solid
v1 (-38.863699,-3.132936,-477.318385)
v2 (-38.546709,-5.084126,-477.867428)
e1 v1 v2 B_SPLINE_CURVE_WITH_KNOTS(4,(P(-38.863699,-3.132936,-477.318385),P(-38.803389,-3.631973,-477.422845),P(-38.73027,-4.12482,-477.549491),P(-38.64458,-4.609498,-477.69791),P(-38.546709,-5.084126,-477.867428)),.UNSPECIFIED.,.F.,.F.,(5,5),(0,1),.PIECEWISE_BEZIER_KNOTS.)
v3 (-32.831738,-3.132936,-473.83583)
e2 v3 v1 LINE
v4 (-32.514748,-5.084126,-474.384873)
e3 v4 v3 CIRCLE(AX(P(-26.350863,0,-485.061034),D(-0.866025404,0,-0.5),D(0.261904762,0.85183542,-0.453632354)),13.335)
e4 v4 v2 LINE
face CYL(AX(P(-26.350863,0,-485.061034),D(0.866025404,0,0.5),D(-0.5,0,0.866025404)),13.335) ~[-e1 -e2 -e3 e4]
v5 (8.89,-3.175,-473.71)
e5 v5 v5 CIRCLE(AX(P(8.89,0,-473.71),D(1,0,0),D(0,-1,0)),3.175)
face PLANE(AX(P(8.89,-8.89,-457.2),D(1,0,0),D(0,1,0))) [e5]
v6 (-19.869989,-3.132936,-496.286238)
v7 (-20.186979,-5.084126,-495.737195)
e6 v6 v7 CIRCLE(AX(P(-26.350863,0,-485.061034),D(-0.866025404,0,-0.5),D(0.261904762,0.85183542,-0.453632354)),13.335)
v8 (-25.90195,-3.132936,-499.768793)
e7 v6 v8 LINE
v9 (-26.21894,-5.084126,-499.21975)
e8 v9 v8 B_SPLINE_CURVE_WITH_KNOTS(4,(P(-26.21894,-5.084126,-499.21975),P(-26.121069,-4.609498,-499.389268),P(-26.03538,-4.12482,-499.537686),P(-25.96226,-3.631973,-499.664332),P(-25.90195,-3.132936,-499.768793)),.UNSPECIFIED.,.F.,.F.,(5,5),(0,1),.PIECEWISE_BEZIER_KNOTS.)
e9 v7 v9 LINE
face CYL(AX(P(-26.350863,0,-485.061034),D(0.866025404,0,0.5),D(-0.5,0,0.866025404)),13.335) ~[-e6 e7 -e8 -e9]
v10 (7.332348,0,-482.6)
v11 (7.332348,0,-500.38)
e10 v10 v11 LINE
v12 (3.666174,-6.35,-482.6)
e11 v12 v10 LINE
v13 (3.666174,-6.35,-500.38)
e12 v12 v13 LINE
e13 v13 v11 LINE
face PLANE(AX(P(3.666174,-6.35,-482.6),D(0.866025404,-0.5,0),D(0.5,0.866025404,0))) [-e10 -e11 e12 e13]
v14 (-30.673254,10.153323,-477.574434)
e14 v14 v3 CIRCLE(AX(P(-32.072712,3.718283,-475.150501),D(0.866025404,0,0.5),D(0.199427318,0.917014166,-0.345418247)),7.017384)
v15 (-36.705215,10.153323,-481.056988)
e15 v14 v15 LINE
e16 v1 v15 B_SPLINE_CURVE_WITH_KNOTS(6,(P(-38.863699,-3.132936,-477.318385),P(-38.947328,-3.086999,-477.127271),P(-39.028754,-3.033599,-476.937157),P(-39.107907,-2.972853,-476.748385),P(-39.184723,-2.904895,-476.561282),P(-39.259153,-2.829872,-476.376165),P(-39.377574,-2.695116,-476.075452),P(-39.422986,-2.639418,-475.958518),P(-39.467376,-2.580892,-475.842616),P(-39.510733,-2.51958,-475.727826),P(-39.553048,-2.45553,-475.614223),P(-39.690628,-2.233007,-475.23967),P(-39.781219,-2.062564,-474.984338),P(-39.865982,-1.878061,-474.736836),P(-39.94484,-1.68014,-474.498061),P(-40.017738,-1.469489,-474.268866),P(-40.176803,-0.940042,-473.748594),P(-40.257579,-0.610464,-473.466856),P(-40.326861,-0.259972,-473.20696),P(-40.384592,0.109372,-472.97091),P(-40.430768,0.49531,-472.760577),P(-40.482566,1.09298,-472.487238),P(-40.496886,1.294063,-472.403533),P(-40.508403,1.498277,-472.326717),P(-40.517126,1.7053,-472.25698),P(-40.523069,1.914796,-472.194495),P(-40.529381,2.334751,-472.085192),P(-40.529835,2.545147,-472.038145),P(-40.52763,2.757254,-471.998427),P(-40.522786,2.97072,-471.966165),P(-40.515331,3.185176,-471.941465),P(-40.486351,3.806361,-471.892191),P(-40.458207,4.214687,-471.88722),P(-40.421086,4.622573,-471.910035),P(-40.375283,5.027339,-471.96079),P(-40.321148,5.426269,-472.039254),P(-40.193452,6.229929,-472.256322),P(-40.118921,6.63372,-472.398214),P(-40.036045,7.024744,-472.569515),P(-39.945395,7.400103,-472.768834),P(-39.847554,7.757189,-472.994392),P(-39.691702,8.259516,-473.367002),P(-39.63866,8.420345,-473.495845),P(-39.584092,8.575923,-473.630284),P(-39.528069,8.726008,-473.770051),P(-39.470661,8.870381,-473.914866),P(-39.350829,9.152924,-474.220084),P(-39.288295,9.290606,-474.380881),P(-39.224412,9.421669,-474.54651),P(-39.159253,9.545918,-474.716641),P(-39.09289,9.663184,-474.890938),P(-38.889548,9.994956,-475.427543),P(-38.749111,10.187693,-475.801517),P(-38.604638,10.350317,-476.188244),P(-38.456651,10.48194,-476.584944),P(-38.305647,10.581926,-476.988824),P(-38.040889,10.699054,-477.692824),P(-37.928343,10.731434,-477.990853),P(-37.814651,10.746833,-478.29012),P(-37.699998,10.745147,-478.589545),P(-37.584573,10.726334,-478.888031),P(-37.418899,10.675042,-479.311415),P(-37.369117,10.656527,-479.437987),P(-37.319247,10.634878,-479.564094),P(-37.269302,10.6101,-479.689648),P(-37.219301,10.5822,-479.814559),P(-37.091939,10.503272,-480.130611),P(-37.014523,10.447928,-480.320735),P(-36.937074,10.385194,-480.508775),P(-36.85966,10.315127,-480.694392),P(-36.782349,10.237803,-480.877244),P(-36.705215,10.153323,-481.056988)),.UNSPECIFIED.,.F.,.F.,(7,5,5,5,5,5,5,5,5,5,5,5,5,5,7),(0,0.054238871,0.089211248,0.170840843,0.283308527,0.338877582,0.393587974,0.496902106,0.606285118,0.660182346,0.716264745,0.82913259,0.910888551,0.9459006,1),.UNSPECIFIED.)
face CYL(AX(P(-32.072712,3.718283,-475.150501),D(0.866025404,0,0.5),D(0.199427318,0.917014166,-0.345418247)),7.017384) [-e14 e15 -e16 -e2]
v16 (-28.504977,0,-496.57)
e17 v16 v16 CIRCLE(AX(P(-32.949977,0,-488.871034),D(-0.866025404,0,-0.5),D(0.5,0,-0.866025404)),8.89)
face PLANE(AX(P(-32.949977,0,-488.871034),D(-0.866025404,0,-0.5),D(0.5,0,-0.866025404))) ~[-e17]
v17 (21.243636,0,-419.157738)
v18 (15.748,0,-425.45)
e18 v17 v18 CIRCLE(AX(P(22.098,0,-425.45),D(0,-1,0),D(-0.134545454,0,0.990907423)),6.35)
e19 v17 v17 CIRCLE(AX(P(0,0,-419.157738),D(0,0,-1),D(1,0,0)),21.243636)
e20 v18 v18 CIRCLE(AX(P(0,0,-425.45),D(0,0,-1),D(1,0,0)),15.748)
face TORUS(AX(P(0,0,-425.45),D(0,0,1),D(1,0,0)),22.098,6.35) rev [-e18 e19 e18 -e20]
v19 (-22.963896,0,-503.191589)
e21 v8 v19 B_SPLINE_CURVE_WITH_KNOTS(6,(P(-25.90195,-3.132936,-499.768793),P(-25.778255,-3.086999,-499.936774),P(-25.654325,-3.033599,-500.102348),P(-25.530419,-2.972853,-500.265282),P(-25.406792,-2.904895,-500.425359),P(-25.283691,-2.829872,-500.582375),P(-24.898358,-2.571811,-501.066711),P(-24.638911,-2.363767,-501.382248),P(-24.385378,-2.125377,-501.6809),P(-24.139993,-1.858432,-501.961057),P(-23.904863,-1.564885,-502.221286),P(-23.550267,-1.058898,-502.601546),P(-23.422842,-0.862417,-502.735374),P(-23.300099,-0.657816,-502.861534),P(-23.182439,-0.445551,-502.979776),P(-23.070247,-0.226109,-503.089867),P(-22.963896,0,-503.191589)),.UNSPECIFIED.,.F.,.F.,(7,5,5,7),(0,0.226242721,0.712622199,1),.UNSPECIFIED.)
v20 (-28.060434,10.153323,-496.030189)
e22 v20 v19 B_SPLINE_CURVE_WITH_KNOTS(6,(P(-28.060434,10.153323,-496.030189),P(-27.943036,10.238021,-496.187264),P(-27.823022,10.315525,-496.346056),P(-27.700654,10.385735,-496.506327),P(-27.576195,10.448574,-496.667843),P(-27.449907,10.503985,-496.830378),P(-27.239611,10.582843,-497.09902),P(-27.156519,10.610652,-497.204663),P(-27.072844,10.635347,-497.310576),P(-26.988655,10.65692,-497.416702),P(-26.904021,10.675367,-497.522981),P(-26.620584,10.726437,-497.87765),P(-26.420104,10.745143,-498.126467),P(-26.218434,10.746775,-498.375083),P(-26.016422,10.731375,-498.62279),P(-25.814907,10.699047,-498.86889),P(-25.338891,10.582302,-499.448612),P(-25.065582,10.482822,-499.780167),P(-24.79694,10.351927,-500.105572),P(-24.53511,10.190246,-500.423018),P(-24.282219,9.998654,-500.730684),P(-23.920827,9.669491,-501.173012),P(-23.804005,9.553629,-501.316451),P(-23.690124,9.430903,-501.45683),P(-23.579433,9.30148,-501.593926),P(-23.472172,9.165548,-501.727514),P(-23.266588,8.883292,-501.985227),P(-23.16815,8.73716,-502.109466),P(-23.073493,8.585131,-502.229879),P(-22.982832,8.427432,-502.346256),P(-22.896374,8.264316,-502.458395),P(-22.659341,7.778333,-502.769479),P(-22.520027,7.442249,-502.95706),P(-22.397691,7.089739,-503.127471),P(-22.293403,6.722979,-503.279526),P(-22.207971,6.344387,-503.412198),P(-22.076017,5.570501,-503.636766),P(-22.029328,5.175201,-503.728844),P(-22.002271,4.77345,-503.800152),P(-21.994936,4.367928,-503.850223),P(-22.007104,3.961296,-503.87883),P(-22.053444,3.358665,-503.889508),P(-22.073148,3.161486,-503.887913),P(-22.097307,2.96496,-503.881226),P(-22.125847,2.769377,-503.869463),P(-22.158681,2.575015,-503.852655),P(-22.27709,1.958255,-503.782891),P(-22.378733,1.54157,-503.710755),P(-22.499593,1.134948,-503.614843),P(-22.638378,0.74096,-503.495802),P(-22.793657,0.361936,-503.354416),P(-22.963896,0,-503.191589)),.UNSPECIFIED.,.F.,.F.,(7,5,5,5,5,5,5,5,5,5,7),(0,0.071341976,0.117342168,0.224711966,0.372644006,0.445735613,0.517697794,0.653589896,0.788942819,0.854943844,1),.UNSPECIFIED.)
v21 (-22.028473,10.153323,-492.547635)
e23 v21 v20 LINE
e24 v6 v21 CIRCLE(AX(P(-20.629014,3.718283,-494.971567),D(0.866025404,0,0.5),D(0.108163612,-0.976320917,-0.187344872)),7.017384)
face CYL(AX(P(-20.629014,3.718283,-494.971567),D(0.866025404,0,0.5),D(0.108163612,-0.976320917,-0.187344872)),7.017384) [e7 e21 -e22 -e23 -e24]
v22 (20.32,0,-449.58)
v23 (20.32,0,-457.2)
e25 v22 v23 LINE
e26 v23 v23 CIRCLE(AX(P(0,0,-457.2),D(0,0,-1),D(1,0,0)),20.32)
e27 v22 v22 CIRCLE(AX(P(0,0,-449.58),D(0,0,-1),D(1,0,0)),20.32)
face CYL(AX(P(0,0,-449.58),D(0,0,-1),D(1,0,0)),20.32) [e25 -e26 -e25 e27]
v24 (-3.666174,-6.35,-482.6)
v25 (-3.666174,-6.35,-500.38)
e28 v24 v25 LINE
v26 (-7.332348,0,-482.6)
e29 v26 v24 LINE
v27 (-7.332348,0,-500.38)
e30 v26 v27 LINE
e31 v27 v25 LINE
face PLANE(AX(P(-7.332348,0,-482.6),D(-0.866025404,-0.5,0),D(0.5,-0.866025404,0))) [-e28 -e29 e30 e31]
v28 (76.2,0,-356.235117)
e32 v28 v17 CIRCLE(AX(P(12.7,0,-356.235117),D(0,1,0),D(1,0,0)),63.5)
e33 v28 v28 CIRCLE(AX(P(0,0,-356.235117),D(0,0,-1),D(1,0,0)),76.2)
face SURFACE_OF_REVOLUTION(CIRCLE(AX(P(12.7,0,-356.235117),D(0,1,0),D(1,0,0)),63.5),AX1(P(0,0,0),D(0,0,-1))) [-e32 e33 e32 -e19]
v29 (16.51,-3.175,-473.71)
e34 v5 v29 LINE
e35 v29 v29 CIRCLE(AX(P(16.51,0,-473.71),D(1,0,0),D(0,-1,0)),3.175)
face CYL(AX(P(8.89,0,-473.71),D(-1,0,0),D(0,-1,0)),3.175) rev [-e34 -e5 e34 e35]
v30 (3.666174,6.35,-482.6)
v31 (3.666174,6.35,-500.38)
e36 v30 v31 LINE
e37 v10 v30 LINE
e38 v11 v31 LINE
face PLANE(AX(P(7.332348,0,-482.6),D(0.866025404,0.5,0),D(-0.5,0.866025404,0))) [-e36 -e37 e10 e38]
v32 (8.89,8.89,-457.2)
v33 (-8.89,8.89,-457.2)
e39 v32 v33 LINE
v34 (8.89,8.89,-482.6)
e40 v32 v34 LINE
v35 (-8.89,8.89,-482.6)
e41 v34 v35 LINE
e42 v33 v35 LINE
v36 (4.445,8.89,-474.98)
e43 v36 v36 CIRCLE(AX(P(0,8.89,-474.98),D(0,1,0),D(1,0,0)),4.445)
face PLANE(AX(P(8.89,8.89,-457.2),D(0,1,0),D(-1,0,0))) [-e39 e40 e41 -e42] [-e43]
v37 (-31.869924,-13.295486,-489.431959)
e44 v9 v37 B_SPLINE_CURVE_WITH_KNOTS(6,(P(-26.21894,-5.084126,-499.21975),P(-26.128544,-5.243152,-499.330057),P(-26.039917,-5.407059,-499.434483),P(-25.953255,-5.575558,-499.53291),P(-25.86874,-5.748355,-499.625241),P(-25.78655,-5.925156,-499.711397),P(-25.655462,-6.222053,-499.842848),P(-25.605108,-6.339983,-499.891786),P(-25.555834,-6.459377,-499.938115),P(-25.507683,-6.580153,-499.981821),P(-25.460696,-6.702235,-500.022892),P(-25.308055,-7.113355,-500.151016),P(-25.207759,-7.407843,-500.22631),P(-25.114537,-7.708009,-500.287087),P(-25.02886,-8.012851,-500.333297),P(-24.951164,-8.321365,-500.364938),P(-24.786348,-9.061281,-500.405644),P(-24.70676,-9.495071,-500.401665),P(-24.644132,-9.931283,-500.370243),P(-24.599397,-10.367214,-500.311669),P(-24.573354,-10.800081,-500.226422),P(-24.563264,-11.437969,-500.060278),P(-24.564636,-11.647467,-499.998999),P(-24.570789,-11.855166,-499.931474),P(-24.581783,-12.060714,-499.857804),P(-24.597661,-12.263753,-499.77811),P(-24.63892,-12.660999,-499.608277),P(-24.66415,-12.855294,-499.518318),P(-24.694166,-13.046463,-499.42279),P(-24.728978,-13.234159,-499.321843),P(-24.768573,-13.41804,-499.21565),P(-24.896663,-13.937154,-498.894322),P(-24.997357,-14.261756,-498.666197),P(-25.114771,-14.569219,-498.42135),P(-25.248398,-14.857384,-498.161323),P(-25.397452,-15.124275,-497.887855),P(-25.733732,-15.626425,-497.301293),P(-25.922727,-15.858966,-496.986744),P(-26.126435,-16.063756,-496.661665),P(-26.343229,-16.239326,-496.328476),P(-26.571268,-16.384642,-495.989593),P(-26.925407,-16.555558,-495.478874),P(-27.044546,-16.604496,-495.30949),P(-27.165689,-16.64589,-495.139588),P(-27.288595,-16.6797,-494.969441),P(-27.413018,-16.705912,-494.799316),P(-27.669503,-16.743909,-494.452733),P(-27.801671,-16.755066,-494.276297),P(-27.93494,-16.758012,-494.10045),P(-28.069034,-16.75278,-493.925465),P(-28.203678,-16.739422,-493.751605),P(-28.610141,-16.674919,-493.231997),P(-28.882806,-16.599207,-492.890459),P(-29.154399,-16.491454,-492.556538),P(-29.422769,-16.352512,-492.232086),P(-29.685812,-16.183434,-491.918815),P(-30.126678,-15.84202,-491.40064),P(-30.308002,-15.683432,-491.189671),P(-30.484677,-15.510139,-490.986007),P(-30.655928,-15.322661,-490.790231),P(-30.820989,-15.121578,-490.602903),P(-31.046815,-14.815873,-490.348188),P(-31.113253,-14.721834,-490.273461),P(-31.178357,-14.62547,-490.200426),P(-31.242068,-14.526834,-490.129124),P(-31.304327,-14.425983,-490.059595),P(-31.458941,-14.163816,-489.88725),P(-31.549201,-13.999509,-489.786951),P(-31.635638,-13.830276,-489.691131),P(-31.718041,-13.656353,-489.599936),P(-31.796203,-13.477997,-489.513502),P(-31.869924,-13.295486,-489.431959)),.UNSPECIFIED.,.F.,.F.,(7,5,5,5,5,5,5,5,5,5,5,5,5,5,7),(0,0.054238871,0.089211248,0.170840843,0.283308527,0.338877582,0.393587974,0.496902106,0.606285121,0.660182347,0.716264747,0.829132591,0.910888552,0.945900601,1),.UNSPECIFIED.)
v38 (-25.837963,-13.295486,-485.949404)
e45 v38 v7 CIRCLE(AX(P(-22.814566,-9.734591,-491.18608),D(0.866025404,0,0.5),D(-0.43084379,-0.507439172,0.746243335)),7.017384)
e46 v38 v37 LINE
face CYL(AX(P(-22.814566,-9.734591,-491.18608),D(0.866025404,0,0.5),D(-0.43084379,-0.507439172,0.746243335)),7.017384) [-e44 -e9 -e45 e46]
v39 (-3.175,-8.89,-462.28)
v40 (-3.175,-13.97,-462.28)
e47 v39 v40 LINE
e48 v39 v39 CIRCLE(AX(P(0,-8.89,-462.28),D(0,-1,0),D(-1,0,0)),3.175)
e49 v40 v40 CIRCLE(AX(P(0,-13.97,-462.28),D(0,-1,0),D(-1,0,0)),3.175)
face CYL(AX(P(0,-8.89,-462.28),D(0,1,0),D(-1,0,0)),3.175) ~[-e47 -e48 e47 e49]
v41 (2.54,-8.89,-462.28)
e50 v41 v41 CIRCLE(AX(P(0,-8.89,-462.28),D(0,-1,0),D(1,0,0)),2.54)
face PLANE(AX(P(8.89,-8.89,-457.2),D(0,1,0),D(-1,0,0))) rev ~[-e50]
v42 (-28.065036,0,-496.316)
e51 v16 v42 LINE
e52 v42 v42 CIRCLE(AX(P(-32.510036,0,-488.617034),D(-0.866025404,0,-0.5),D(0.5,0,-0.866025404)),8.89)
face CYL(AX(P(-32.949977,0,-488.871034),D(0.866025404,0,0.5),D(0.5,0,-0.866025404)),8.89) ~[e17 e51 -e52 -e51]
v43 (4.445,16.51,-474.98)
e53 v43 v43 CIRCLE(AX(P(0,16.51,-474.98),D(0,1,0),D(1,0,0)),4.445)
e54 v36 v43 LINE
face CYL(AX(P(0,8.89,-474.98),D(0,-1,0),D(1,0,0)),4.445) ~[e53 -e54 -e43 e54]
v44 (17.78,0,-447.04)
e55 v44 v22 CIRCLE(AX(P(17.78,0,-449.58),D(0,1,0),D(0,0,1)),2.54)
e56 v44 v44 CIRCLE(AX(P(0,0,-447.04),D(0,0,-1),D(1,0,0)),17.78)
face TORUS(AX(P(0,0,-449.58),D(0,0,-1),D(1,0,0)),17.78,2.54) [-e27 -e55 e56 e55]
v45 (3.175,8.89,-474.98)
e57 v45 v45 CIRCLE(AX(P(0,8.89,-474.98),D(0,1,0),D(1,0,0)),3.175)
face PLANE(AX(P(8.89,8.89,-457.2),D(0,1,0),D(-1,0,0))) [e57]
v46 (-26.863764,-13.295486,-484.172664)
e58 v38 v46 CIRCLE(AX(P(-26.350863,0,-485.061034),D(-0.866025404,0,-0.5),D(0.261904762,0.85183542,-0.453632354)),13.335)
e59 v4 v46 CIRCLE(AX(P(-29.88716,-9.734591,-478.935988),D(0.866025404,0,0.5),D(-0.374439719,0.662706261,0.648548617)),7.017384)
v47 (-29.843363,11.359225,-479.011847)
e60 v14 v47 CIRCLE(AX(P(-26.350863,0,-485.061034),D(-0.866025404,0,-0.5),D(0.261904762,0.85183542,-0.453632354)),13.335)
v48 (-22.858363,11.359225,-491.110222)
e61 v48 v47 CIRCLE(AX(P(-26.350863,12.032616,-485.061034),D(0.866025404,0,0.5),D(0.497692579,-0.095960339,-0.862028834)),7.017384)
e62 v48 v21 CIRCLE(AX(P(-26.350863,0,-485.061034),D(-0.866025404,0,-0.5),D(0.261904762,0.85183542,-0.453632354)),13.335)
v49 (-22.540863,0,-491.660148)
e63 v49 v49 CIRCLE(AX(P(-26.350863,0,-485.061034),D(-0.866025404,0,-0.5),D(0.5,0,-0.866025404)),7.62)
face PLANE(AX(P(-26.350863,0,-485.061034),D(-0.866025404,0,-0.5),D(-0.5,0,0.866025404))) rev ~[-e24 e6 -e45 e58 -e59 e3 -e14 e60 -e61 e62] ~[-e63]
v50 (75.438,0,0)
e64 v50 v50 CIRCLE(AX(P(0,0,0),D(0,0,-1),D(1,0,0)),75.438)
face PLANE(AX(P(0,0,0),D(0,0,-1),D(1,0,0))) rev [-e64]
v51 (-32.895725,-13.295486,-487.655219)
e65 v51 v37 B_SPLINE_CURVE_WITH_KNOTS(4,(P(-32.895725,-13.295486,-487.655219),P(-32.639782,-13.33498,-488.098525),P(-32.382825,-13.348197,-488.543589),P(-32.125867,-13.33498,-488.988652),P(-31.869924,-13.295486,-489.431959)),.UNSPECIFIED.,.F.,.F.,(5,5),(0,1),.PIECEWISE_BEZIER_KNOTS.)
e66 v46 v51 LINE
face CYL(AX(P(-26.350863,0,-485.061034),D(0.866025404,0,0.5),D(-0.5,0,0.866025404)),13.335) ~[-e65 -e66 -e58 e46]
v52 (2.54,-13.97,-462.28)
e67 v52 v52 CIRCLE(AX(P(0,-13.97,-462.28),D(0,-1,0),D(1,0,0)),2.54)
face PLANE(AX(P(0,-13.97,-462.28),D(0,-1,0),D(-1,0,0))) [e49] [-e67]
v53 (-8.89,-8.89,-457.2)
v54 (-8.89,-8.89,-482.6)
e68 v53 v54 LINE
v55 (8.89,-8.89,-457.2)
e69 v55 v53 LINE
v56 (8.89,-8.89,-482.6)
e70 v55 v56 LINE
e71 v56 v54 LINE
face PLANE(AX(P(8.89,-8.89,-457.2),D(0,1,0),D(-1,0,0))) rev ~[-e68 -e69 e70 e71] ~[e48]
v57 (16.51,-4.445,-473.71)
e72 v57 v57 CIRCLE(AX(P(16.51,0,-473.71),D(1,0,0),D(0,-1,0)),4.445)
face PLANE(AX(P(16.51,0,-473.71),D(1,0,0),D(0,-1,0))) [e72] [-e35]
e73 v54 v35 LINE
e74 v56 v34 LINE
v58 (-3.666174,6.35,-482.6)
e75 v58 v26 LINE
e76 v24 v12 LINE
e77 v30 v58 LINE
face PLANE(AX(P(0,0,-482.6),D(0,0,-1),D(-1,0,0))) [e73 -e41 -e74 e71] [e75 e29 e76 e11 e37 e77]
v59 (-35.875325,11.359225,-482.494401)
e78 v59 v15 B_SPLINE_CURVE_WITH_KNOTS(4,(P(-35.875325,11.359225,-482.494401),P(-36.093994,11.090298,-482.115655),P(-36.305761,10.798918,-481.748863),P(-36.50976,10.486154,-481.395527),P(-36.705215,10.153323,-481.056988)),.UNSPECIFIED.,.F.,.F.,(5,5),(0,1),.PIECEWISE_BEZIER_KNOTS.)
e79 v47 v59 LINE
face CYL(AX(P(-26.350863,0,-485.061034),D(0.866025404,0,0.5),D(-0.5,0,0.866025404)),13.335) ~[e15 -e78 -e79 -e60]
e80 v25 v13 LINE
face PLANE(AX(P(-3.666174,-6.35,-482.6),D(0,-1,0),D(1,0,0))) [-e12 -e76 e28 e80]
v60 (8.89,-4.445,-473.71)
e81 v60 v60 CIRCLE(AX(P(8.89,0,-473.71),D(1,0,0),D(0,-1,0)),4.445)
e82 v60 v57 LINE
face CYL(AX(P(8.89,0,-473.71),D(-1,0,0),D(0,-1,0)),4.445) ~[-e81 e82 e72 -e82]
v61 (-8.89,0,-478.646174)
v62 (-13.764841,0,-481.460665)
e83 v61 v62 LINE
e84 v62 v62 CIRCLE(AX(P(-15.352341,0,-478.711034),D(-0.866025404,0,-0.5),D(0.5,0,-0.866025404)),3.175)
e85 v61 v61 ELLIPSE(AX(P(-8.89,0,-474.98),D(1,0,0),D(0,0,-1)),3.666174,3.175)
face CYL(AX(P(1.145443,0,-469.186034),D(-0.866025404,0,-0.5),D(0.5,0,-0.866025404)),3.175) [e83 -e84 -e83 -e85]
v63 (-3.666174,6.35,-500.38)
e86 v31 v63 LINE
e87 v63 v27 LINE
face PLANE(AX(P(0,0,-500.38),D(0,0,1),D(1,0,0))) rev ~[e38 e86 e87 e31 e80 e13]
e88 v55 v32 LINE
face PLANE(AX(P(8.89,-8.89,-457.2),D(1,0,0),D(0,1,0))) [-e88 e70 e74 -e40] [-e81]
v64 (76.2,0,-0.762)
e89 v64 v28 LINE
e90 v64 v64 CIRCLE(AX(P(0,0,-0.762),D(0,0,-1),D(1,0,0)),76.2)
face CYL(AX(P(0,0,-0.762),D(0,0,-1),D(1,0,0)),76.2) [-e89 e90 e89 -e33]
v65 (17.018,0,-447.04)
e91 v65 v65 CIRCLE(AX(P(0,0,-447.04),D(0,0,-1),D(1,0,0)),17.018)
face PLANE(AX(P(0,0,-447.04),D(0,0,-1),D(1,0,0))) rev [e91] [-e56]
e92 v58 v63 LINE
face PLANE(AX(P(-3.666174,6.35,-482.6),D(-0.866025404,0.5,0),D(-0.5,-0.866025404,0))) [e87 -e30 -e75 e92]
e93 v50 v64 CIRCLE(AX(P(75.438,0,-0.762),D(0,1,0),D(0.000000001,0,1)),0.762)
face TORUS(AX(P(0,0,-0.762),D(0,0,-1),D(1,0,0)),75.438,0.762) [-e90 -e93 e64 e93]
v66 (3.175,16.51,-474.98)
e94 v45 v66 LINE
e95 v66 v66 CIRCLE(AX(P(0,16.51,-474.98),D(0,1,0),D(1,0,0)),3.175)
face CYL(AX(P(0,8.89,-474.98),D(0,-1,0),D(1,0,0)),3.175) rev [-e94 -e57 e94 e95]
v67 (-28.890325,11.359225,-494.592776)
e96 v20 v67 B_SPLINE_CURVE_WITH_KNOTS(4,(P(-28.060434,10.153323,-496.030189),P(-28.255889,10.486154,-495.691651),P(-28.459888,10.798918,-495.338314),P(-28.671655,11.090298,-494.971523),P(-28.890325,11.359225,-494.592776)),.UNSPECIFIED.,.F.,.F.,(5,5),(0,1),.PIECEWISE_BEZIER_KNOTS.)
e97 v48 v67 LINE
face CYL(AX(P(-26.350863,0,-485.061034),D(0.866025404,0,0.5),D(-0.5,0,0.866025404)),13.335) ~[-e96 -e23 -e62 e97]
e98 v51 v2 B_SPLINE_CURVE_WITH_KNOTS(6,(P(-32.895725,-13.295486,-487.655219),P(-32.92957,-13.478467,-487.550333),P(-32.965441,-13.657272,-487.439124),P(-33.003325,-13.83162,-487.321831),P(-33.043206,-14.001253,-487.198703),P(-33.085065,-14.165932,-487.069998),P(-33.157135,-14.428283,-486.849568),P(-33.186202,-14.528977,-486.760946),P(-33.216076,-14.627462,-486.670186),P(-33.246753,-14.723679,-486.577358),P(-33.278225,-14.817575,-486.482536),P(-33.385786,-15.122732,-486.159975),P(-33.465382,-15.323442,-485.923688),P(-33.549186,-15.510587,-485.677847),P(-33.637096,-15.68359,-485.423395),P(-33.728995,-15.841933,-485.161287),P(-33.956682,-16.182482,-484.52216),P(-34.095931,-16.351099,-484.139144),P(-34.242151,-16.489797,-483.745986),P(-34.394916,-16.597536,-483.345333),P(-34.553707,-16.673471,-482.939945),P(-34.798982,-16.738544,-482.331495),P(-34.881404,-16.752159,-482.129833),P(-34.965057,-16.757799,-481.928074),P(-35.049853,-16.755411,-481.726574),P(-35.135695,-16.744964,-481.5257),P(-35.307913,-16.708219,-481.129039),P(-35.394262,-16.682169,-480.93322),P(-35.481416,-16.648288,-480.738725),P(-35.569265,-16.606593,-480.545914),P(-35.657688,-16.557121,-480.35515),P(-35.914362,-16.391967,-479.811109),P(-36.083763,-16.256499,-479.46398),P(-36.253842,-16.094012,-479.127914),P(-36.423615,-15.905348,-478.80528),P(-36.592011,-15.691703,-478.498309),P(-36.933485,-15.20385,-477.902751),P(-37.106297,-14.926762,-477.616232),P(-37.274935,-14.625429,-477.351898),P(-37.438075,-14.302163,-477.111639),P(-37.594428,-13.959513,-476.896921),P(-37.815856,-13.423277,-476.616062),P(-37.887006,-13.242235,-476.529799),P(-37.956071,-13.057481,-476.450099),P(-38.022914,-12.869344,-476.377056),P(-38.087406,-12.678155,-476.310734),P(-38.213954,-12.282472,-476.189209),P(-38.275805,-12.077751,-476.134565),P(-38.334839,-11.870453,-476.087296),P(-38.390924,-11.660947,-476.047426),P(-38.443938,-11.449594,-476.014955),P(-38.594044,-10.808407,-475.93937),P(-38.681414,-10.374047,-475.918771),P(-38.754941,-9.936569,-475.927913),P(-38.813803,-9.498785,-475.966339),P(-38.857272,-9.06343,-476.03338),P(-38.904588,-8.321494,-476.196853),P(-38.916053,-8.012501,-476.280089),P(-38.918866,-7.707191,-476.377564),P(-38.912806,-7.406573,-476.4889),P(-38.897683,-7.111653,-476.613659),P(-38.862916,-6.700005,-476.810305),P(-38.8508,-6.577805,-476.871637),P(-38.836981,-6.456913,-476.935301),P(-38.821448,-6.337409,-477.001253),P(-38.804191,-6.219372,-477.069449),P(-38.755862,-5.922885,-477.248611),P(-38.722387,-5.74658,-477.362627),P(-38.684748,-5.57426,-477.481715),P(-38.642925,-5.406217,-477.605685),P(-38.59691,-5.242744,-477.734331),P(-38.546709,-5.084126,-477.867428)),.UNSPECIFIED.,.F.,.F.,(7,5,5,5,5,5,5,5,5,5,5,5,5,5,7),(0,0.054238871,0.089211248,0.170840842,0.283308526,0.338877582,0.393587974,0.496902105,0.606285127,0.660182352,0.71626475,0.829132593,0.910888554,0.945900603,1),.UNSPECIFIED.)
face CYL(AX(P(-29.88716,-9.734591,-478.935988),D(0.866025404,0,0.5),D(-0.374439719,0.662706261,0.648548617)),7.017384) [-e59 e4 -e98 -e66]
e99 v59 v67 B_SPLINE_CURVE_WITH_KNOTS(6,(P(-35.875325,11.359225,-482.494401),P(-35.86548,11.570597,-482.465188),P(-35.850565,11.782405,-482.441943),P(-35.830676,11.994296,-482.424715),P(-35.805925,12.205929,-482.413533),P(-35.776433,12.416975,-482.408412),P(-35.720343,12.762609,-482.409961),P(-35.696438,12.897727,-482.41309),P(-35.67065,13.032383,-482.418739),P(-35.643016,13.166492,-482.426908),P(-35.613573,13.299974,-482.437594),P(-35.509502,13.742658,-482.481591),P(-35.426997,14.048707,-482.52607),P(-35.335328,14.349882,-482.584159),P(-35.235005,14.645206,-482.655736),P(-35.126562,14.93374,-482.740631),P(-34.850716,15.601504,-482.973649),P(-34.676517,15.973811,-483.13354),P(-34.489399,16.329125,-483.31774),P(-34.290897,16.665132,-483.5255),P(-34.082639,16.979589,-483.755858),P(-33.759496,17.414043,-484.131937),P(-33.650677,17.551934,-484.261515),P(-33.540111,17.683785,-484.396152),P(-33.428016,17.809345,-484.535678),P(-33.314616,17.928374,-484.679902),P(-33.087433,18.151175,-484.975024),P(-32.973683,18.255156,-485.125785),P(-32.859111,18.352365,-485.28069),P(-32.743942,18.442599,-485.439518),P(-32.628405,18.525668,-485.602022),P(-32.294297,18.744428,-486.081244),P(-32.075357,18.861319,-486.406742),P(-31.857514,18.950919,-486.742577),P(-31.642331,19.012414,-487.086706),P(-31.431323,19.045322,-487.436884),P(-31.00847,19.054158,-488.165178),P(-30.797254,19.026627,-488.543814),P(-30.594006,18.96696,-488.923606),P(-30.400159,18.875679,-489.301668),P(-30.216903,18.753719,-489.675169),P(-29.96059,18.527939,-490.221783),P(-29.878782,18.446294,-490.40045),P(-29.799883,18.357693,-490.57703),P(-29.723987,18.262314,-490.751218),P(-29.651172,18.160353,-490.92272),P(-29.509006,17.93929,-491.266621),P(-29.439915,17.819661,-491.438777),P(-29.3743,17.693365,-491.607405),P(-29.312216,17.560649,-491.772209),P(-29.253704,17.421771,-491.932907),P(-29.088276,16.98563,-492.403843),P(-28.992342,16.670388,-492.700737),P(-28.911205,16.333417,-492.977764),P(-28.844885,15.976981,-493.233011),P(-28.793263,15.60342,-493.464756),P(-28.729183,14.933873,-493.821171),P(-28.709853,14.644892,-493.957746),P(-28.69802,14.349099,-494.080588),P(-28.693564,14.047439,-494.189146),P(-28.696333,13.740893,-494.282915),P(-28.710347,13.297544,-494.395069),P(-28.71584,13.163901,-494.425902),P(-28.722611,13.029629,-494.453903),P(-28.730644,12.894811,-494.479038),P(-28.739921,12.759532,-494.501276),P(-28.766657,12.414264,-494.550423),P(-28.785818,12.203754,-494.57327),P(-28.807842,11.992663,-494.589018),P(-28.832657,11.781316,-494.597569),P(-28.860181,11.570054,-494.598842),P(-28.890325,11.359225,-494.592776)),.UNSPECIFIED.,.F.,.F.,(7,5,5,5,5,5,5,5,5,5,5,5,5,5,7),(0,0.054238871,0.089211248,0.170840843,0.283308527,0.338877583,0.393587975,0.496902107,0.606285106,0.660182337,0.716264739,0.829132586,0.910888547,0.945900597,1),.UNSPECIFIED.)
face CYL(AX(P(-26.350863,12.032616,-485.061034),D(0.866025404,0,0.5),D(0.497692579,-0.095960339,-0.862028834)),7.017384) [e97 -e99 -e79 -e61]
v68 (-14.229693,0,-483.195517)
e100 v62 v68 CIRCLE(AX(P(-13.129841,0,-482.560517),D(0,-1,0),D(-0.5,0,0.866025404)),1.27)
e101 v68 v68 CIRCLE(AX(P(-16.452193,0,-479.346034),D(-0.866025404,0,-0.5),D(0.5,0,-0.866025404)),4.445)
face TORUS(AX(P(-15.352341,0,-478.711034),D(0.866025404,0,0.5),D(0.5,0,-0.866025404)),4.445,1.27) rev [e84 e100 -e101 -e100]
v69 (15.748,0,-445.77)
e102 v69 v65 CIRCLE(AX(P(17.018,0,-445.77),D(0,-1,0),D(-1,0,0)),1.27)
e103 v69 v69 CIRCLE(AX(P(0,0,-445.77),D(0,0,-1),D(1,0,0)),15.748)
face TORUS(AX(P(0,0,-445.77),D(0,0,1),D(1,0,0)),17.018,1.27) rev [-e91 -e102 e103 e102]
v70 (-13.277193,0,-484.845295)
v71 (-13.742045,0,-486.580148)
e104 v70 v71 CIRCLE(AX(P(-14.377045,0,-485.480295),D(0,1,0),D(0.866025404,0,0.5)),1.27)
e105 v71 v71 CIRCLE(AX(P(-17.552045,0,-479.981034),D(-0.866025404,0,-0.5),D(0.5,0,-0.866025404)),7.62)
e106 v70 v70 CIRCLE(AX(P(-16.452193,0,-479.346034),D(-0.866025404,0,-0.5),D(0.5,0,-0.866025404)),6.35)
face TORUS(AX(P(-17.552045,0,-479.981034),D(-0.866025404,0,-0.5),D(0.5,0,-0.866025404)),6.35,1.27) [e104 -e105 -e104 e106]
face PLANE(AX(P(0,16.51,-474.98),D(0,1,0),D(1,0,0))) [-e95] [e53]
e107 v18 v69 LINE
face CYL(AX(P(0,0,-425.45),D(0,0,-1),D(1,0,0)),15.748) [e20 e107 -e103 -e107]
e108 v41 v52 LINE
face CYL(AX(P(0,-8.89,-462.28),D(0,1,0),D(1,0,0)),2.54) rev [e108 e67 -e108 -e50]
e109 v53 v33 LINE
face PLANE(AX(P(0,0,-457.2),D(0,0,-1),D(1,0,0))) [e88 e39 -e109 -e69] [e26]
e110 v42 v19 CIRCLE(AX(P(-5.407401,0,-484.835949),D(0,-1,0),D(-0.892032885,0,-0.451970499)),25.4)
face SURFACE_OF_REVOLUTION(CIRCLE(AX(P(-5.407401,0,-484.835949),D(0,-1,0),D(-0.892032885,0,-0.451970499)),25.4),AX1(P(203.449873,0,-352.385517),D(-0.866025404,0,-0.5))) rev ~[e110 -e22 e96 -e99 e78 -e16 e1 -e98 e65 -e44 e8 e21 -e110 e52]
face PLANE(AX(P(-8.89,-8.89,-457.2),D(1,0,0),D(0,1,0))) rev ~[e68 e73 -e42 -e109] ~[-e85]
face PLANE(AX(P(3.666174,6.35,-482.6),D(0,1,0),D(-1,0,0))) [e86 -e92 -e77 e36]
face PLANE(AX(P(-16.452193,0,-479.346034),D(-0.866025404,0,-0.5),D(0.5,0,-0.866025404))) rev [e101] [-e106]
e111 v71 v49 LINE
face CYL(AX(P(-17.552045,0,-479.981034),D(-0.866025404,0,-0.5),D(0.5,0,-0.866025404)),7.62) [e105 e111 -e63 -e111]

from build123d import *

# Parameters (mm, degrees)
SKETCH4_W           = 17.78
SKETCH4_H           = 17.78
BOSS_EXTRUDE1_DEPTH = 25.4
SKETCH5_R           = 3.175
SKETCH5_R_2         = 2.54
BOSS_EXTRUDE2_DEPTH = 5.08
SKETCH6_R           = 4.445
SKETCH6_R_2         = 3.175
BOSS_EXTRUDE3_DEPTH = 7.62
SKETCH7_R           = 4.445
SKETCH7_R_2         = 3.175
BOSS_EXTRUDE4_DEPTH = 7.62
SKETCH14_R          = 13.335
BOSS_EXTRUDE5_DEPTH = 7.62
BOSS_EXTRUDE6_DEPTH = 7.62
CIRPATTERN1_COUNT   = 5
BOSS_EXTRUDE7_DEPTH = 17.78


with BuildPart() as part:
    # Sketch3 → Revolve1 (revolve)
    with BuildSketch(Plane(origin=(0, 0, 0), x_dir=(1, 0, 0), z_dir=(0, 1, 0)), mode=Mode.PRIVATE) as revolve1_sk:
        with BuildLine():
            Line((0, 0), (-75.438, 0))
            ThreePointArc((-75.438, 0), (-75.976815367, 0.223184633), (-76.2, 0.762))
            Line((-76.2, 0.762), (-76.2, 356.235116514))
            ThreePointArc((-76.2, 356.235116514), (-60.526618682, 398.006692322), (-21.243636364, 419.157737865))
            ThreePointArc((-21.243636364, 419.157737865), (-17.315338132, 421.272842419), (-15.748, 425.45))
            Line((-15.748, 425.45), (-15.748, 445.77))
            ThreePointArc((-15.748, 445.77), (-16.119974388, 446.668025612), (-17.018, 447.04))
            Line((-17.018, 447.04), (-17.78, 447.04))
            ThreePointArc((-17.78, 447.04), (-19.576051224, 447.783948776), (-20.32, 449.58))
            Line((-20.32, 449.58), (-20.32, 457.2))
            Line((-20.32, 457.2), (0, 457.2))
            Line((0, 457.2), (0, 0))
        make_face()
    revolve(revolve1_sk.sketch.rotate(Axis((0, 0, 0), (0, 0, -1)), 180), axis=Axis((0, 0, 0), (0, 0, -1)))

    # Sketch4 → Boss-Extrude1 (add)
    with BuildSketch(Plane(origin=(0, 0, -457.2), x_dir=(-1, 0, 0), z_dir=(0, 0, -1))):
        Rectangle(SKETCH4_W, SKETCH4_H)
    extrude(amount=BOSS_EXTRUDE1_DEPTH)

    # Sketch5 → Boss-Extrude2 (add)
    with BuildSketch(Plane.XZ.offset(8.89)):
        with Locations(Location((0, -462.28, 0), (0, 0, 180))):
            Circle(SKETCH5_R)
        with Locations((0, -462.28)):
            Circle(SKETCH5_R_2, mode=Mode.SUBTRACT)
    extrude(amount=BOSS_EXTRUDE2_DEPTH)

    # Sketch6 → Boss-Extrude3 (add)
    with BuildSketch(Plane(origin=(8.89, 0, 0), x_dir=(0, 0, -1), z_dir=(1, 0, 0))):
        with Locations(Location((473.71, 0, 0), (0, 0, 270))):
            Circle(SKETCH6_R)
        with Locations(Location((473.71, 0, 0), (0, 0, 270))):
            Circle(SKETCH6_R_2, mode=Mode.SUBTRACT)
    extrude(amount=BOSS_EXTRUDE3_DEPTH)

    # Sketch7 → Boss-Extrude4 (add)
    with BuildSketch(Plane(origin=(0, 8.89, 0), x_dir=(1, 0, 0), z_dir=(0, 1, 0))):
        with Locations((0, 474.98)):
            Circle(SKETCH7_R)
        with Locations((0, 474.98)):
            Circle(SKETCH7_R_2, mode=Mode.SUBTRACT)
    extrude(amount=BOSS_EXTRUDE4_DEPTH)

    # Sketch10 → Revolve2 (revolve)
    with BuildSketch(Plane(origin=(203.449873145, 0, -352.38551708), x_dir=(0, 1, 0), z_dir=(-0.499999999999998, 0, 0.8660254037844398)), mode=Mode.PRIVATE) as revolve2_sk:
        with BuildLine():
            Line((3.175, 233.60103416), (3.175, 252.65103416))
            ThreePointArc((3.175, 252.65103416), (3.546974388, 253.549059772), (4.445, 253.92103416))
            Line((4.445, 253.92103416), (6.35, 253.92103416))
            ThreePointArc((6.35, 253.92103416), (7.248025612, 254.293008548), (7.62, 255.19103416))
            Line((7.62, 255.19103416), (7.62, 265.35103416))
            Line((7.62, 265.35103416), (0, 265.35103416))
            Line((0, 265.35103416), (0, 233.60103416))
            Line((0, 233.60103416), (3.175, 233.60103416))
        make_face()
    revolve(revolve2_sk.sketch.rotate(Axis((203.449873145, 0, -352.38551708), (-0.8660254037844399, 0, -0.4999999999999979)), 90), axis=Axis((203.449873145, 0, -352.38551708), (-0.8660254037844399, 0, -0.4999999999999979)))

    # Sketch14 → Boss-Extrude5 (add)
    with BuildSketch(Plane(origin=(-229.800736503, 0, -132.67551708), x_dir=(-0.4999999999999982, 0, 0.8660254037844397), z_dir=(-0.8660254037844398, 0, -0.4999999999999983))):
        with Locations((-406.89974629, 0)):
            Circle(SKETCH14_R)
    extrude(amount=BOSS_EXTRUDE5_DEPTH)

    # Sketch11 → Boss-Extrude6 (add)
    with BuildSketch(Plane(origin=(-229.800736503, 0, -132.67551708), x_dir=(-0.49999999999999833, 0, 0.8660254037844396), z_dir=(-0.8660254037844396, 0, -0.49999999999999833))):
        with BuildLine():
            ThreePointArc((-413.88474629, 11.359225326), (-406.89974629, 19.05), (-399.91474629, 11.359225326))
            ThreePointArc((-399.91474629, 11.359225326), (-406.89974629, 13.335), (-413.88474629, 11.359225326))
        make_face()
    boss_extrude6 = extrude(amount=BOSS_EXTRUDE6_DEPTH)

    # CirPattern1: Boss-Extrude6 ×5 about axis
    cirpattern1_axis = Axis((203.449873145, 0, -352.38551708), (0.8660254037844396, 0, 0.4999999999999983))
    for i in range(1, CIRPATTERN1_COUNT):
        add(boss_extrude6.rotate(cirpattern1_axis, i * 360 / CIRPATTERN1_COUNT))

    # Sketch15 → Cut-Revolve2 (revolve, cut)
    with BuildSketch(Plane(origin=(203.449873145, 0, -352.38551708), x_dir=(0, 1, 0), z_dir=(-0.499999999999998, 0, 0.8660254037844398)), mode=Mode.PRIVATE) as cut_revolve2_sk:
        with BuildLine():
            Line((20.32, 270.43103416), (20.32, 290.75103416))
            Line((20.32, 290.75103416), (0, 290.75103416))
            Line((0, 290.75103416), (0, 272.97103416))
            Line((0, 272.97103416), (8.89, 272.97103416))
            Line((8.89, 272.97103416), (8.89, 272.46303416))
            ThreePointArc((8.89, 272.46303416), (14.722648821, 272.108808778), (20.32, 270.43103416))
        make_face()
    revolve(cut_revolve2_sk.sketch.rotate(Axis((203.449873145, 0, -352.38551708), (-0.8660254037844397, 0, -0.49999999999999806)), 90), axis=Axis((203.449873145, 0, -352.38551708), (-0.8660254037844397, 0, -0.49999999999999806)), mode=Mode.SUBTRACT)

    # Sketch16 → Boss-Extrude7 (add)
    with BuildSketch(Plane(origin=(0, 0, -482.6), x_dir=(-1, 0, 0), z_dir=(0, 0, -1))):
        Polygon((-3.666174209, 6.35), (3.666174209, 6.35), (7.332348419, 0), (3.666174209, -6.35), (-3.666174209, -6.35), (-7.332348419, 0), align=None)
    extrude(amount=BOSS_EXTRUDE7_DEPTH)


solid = part.part
